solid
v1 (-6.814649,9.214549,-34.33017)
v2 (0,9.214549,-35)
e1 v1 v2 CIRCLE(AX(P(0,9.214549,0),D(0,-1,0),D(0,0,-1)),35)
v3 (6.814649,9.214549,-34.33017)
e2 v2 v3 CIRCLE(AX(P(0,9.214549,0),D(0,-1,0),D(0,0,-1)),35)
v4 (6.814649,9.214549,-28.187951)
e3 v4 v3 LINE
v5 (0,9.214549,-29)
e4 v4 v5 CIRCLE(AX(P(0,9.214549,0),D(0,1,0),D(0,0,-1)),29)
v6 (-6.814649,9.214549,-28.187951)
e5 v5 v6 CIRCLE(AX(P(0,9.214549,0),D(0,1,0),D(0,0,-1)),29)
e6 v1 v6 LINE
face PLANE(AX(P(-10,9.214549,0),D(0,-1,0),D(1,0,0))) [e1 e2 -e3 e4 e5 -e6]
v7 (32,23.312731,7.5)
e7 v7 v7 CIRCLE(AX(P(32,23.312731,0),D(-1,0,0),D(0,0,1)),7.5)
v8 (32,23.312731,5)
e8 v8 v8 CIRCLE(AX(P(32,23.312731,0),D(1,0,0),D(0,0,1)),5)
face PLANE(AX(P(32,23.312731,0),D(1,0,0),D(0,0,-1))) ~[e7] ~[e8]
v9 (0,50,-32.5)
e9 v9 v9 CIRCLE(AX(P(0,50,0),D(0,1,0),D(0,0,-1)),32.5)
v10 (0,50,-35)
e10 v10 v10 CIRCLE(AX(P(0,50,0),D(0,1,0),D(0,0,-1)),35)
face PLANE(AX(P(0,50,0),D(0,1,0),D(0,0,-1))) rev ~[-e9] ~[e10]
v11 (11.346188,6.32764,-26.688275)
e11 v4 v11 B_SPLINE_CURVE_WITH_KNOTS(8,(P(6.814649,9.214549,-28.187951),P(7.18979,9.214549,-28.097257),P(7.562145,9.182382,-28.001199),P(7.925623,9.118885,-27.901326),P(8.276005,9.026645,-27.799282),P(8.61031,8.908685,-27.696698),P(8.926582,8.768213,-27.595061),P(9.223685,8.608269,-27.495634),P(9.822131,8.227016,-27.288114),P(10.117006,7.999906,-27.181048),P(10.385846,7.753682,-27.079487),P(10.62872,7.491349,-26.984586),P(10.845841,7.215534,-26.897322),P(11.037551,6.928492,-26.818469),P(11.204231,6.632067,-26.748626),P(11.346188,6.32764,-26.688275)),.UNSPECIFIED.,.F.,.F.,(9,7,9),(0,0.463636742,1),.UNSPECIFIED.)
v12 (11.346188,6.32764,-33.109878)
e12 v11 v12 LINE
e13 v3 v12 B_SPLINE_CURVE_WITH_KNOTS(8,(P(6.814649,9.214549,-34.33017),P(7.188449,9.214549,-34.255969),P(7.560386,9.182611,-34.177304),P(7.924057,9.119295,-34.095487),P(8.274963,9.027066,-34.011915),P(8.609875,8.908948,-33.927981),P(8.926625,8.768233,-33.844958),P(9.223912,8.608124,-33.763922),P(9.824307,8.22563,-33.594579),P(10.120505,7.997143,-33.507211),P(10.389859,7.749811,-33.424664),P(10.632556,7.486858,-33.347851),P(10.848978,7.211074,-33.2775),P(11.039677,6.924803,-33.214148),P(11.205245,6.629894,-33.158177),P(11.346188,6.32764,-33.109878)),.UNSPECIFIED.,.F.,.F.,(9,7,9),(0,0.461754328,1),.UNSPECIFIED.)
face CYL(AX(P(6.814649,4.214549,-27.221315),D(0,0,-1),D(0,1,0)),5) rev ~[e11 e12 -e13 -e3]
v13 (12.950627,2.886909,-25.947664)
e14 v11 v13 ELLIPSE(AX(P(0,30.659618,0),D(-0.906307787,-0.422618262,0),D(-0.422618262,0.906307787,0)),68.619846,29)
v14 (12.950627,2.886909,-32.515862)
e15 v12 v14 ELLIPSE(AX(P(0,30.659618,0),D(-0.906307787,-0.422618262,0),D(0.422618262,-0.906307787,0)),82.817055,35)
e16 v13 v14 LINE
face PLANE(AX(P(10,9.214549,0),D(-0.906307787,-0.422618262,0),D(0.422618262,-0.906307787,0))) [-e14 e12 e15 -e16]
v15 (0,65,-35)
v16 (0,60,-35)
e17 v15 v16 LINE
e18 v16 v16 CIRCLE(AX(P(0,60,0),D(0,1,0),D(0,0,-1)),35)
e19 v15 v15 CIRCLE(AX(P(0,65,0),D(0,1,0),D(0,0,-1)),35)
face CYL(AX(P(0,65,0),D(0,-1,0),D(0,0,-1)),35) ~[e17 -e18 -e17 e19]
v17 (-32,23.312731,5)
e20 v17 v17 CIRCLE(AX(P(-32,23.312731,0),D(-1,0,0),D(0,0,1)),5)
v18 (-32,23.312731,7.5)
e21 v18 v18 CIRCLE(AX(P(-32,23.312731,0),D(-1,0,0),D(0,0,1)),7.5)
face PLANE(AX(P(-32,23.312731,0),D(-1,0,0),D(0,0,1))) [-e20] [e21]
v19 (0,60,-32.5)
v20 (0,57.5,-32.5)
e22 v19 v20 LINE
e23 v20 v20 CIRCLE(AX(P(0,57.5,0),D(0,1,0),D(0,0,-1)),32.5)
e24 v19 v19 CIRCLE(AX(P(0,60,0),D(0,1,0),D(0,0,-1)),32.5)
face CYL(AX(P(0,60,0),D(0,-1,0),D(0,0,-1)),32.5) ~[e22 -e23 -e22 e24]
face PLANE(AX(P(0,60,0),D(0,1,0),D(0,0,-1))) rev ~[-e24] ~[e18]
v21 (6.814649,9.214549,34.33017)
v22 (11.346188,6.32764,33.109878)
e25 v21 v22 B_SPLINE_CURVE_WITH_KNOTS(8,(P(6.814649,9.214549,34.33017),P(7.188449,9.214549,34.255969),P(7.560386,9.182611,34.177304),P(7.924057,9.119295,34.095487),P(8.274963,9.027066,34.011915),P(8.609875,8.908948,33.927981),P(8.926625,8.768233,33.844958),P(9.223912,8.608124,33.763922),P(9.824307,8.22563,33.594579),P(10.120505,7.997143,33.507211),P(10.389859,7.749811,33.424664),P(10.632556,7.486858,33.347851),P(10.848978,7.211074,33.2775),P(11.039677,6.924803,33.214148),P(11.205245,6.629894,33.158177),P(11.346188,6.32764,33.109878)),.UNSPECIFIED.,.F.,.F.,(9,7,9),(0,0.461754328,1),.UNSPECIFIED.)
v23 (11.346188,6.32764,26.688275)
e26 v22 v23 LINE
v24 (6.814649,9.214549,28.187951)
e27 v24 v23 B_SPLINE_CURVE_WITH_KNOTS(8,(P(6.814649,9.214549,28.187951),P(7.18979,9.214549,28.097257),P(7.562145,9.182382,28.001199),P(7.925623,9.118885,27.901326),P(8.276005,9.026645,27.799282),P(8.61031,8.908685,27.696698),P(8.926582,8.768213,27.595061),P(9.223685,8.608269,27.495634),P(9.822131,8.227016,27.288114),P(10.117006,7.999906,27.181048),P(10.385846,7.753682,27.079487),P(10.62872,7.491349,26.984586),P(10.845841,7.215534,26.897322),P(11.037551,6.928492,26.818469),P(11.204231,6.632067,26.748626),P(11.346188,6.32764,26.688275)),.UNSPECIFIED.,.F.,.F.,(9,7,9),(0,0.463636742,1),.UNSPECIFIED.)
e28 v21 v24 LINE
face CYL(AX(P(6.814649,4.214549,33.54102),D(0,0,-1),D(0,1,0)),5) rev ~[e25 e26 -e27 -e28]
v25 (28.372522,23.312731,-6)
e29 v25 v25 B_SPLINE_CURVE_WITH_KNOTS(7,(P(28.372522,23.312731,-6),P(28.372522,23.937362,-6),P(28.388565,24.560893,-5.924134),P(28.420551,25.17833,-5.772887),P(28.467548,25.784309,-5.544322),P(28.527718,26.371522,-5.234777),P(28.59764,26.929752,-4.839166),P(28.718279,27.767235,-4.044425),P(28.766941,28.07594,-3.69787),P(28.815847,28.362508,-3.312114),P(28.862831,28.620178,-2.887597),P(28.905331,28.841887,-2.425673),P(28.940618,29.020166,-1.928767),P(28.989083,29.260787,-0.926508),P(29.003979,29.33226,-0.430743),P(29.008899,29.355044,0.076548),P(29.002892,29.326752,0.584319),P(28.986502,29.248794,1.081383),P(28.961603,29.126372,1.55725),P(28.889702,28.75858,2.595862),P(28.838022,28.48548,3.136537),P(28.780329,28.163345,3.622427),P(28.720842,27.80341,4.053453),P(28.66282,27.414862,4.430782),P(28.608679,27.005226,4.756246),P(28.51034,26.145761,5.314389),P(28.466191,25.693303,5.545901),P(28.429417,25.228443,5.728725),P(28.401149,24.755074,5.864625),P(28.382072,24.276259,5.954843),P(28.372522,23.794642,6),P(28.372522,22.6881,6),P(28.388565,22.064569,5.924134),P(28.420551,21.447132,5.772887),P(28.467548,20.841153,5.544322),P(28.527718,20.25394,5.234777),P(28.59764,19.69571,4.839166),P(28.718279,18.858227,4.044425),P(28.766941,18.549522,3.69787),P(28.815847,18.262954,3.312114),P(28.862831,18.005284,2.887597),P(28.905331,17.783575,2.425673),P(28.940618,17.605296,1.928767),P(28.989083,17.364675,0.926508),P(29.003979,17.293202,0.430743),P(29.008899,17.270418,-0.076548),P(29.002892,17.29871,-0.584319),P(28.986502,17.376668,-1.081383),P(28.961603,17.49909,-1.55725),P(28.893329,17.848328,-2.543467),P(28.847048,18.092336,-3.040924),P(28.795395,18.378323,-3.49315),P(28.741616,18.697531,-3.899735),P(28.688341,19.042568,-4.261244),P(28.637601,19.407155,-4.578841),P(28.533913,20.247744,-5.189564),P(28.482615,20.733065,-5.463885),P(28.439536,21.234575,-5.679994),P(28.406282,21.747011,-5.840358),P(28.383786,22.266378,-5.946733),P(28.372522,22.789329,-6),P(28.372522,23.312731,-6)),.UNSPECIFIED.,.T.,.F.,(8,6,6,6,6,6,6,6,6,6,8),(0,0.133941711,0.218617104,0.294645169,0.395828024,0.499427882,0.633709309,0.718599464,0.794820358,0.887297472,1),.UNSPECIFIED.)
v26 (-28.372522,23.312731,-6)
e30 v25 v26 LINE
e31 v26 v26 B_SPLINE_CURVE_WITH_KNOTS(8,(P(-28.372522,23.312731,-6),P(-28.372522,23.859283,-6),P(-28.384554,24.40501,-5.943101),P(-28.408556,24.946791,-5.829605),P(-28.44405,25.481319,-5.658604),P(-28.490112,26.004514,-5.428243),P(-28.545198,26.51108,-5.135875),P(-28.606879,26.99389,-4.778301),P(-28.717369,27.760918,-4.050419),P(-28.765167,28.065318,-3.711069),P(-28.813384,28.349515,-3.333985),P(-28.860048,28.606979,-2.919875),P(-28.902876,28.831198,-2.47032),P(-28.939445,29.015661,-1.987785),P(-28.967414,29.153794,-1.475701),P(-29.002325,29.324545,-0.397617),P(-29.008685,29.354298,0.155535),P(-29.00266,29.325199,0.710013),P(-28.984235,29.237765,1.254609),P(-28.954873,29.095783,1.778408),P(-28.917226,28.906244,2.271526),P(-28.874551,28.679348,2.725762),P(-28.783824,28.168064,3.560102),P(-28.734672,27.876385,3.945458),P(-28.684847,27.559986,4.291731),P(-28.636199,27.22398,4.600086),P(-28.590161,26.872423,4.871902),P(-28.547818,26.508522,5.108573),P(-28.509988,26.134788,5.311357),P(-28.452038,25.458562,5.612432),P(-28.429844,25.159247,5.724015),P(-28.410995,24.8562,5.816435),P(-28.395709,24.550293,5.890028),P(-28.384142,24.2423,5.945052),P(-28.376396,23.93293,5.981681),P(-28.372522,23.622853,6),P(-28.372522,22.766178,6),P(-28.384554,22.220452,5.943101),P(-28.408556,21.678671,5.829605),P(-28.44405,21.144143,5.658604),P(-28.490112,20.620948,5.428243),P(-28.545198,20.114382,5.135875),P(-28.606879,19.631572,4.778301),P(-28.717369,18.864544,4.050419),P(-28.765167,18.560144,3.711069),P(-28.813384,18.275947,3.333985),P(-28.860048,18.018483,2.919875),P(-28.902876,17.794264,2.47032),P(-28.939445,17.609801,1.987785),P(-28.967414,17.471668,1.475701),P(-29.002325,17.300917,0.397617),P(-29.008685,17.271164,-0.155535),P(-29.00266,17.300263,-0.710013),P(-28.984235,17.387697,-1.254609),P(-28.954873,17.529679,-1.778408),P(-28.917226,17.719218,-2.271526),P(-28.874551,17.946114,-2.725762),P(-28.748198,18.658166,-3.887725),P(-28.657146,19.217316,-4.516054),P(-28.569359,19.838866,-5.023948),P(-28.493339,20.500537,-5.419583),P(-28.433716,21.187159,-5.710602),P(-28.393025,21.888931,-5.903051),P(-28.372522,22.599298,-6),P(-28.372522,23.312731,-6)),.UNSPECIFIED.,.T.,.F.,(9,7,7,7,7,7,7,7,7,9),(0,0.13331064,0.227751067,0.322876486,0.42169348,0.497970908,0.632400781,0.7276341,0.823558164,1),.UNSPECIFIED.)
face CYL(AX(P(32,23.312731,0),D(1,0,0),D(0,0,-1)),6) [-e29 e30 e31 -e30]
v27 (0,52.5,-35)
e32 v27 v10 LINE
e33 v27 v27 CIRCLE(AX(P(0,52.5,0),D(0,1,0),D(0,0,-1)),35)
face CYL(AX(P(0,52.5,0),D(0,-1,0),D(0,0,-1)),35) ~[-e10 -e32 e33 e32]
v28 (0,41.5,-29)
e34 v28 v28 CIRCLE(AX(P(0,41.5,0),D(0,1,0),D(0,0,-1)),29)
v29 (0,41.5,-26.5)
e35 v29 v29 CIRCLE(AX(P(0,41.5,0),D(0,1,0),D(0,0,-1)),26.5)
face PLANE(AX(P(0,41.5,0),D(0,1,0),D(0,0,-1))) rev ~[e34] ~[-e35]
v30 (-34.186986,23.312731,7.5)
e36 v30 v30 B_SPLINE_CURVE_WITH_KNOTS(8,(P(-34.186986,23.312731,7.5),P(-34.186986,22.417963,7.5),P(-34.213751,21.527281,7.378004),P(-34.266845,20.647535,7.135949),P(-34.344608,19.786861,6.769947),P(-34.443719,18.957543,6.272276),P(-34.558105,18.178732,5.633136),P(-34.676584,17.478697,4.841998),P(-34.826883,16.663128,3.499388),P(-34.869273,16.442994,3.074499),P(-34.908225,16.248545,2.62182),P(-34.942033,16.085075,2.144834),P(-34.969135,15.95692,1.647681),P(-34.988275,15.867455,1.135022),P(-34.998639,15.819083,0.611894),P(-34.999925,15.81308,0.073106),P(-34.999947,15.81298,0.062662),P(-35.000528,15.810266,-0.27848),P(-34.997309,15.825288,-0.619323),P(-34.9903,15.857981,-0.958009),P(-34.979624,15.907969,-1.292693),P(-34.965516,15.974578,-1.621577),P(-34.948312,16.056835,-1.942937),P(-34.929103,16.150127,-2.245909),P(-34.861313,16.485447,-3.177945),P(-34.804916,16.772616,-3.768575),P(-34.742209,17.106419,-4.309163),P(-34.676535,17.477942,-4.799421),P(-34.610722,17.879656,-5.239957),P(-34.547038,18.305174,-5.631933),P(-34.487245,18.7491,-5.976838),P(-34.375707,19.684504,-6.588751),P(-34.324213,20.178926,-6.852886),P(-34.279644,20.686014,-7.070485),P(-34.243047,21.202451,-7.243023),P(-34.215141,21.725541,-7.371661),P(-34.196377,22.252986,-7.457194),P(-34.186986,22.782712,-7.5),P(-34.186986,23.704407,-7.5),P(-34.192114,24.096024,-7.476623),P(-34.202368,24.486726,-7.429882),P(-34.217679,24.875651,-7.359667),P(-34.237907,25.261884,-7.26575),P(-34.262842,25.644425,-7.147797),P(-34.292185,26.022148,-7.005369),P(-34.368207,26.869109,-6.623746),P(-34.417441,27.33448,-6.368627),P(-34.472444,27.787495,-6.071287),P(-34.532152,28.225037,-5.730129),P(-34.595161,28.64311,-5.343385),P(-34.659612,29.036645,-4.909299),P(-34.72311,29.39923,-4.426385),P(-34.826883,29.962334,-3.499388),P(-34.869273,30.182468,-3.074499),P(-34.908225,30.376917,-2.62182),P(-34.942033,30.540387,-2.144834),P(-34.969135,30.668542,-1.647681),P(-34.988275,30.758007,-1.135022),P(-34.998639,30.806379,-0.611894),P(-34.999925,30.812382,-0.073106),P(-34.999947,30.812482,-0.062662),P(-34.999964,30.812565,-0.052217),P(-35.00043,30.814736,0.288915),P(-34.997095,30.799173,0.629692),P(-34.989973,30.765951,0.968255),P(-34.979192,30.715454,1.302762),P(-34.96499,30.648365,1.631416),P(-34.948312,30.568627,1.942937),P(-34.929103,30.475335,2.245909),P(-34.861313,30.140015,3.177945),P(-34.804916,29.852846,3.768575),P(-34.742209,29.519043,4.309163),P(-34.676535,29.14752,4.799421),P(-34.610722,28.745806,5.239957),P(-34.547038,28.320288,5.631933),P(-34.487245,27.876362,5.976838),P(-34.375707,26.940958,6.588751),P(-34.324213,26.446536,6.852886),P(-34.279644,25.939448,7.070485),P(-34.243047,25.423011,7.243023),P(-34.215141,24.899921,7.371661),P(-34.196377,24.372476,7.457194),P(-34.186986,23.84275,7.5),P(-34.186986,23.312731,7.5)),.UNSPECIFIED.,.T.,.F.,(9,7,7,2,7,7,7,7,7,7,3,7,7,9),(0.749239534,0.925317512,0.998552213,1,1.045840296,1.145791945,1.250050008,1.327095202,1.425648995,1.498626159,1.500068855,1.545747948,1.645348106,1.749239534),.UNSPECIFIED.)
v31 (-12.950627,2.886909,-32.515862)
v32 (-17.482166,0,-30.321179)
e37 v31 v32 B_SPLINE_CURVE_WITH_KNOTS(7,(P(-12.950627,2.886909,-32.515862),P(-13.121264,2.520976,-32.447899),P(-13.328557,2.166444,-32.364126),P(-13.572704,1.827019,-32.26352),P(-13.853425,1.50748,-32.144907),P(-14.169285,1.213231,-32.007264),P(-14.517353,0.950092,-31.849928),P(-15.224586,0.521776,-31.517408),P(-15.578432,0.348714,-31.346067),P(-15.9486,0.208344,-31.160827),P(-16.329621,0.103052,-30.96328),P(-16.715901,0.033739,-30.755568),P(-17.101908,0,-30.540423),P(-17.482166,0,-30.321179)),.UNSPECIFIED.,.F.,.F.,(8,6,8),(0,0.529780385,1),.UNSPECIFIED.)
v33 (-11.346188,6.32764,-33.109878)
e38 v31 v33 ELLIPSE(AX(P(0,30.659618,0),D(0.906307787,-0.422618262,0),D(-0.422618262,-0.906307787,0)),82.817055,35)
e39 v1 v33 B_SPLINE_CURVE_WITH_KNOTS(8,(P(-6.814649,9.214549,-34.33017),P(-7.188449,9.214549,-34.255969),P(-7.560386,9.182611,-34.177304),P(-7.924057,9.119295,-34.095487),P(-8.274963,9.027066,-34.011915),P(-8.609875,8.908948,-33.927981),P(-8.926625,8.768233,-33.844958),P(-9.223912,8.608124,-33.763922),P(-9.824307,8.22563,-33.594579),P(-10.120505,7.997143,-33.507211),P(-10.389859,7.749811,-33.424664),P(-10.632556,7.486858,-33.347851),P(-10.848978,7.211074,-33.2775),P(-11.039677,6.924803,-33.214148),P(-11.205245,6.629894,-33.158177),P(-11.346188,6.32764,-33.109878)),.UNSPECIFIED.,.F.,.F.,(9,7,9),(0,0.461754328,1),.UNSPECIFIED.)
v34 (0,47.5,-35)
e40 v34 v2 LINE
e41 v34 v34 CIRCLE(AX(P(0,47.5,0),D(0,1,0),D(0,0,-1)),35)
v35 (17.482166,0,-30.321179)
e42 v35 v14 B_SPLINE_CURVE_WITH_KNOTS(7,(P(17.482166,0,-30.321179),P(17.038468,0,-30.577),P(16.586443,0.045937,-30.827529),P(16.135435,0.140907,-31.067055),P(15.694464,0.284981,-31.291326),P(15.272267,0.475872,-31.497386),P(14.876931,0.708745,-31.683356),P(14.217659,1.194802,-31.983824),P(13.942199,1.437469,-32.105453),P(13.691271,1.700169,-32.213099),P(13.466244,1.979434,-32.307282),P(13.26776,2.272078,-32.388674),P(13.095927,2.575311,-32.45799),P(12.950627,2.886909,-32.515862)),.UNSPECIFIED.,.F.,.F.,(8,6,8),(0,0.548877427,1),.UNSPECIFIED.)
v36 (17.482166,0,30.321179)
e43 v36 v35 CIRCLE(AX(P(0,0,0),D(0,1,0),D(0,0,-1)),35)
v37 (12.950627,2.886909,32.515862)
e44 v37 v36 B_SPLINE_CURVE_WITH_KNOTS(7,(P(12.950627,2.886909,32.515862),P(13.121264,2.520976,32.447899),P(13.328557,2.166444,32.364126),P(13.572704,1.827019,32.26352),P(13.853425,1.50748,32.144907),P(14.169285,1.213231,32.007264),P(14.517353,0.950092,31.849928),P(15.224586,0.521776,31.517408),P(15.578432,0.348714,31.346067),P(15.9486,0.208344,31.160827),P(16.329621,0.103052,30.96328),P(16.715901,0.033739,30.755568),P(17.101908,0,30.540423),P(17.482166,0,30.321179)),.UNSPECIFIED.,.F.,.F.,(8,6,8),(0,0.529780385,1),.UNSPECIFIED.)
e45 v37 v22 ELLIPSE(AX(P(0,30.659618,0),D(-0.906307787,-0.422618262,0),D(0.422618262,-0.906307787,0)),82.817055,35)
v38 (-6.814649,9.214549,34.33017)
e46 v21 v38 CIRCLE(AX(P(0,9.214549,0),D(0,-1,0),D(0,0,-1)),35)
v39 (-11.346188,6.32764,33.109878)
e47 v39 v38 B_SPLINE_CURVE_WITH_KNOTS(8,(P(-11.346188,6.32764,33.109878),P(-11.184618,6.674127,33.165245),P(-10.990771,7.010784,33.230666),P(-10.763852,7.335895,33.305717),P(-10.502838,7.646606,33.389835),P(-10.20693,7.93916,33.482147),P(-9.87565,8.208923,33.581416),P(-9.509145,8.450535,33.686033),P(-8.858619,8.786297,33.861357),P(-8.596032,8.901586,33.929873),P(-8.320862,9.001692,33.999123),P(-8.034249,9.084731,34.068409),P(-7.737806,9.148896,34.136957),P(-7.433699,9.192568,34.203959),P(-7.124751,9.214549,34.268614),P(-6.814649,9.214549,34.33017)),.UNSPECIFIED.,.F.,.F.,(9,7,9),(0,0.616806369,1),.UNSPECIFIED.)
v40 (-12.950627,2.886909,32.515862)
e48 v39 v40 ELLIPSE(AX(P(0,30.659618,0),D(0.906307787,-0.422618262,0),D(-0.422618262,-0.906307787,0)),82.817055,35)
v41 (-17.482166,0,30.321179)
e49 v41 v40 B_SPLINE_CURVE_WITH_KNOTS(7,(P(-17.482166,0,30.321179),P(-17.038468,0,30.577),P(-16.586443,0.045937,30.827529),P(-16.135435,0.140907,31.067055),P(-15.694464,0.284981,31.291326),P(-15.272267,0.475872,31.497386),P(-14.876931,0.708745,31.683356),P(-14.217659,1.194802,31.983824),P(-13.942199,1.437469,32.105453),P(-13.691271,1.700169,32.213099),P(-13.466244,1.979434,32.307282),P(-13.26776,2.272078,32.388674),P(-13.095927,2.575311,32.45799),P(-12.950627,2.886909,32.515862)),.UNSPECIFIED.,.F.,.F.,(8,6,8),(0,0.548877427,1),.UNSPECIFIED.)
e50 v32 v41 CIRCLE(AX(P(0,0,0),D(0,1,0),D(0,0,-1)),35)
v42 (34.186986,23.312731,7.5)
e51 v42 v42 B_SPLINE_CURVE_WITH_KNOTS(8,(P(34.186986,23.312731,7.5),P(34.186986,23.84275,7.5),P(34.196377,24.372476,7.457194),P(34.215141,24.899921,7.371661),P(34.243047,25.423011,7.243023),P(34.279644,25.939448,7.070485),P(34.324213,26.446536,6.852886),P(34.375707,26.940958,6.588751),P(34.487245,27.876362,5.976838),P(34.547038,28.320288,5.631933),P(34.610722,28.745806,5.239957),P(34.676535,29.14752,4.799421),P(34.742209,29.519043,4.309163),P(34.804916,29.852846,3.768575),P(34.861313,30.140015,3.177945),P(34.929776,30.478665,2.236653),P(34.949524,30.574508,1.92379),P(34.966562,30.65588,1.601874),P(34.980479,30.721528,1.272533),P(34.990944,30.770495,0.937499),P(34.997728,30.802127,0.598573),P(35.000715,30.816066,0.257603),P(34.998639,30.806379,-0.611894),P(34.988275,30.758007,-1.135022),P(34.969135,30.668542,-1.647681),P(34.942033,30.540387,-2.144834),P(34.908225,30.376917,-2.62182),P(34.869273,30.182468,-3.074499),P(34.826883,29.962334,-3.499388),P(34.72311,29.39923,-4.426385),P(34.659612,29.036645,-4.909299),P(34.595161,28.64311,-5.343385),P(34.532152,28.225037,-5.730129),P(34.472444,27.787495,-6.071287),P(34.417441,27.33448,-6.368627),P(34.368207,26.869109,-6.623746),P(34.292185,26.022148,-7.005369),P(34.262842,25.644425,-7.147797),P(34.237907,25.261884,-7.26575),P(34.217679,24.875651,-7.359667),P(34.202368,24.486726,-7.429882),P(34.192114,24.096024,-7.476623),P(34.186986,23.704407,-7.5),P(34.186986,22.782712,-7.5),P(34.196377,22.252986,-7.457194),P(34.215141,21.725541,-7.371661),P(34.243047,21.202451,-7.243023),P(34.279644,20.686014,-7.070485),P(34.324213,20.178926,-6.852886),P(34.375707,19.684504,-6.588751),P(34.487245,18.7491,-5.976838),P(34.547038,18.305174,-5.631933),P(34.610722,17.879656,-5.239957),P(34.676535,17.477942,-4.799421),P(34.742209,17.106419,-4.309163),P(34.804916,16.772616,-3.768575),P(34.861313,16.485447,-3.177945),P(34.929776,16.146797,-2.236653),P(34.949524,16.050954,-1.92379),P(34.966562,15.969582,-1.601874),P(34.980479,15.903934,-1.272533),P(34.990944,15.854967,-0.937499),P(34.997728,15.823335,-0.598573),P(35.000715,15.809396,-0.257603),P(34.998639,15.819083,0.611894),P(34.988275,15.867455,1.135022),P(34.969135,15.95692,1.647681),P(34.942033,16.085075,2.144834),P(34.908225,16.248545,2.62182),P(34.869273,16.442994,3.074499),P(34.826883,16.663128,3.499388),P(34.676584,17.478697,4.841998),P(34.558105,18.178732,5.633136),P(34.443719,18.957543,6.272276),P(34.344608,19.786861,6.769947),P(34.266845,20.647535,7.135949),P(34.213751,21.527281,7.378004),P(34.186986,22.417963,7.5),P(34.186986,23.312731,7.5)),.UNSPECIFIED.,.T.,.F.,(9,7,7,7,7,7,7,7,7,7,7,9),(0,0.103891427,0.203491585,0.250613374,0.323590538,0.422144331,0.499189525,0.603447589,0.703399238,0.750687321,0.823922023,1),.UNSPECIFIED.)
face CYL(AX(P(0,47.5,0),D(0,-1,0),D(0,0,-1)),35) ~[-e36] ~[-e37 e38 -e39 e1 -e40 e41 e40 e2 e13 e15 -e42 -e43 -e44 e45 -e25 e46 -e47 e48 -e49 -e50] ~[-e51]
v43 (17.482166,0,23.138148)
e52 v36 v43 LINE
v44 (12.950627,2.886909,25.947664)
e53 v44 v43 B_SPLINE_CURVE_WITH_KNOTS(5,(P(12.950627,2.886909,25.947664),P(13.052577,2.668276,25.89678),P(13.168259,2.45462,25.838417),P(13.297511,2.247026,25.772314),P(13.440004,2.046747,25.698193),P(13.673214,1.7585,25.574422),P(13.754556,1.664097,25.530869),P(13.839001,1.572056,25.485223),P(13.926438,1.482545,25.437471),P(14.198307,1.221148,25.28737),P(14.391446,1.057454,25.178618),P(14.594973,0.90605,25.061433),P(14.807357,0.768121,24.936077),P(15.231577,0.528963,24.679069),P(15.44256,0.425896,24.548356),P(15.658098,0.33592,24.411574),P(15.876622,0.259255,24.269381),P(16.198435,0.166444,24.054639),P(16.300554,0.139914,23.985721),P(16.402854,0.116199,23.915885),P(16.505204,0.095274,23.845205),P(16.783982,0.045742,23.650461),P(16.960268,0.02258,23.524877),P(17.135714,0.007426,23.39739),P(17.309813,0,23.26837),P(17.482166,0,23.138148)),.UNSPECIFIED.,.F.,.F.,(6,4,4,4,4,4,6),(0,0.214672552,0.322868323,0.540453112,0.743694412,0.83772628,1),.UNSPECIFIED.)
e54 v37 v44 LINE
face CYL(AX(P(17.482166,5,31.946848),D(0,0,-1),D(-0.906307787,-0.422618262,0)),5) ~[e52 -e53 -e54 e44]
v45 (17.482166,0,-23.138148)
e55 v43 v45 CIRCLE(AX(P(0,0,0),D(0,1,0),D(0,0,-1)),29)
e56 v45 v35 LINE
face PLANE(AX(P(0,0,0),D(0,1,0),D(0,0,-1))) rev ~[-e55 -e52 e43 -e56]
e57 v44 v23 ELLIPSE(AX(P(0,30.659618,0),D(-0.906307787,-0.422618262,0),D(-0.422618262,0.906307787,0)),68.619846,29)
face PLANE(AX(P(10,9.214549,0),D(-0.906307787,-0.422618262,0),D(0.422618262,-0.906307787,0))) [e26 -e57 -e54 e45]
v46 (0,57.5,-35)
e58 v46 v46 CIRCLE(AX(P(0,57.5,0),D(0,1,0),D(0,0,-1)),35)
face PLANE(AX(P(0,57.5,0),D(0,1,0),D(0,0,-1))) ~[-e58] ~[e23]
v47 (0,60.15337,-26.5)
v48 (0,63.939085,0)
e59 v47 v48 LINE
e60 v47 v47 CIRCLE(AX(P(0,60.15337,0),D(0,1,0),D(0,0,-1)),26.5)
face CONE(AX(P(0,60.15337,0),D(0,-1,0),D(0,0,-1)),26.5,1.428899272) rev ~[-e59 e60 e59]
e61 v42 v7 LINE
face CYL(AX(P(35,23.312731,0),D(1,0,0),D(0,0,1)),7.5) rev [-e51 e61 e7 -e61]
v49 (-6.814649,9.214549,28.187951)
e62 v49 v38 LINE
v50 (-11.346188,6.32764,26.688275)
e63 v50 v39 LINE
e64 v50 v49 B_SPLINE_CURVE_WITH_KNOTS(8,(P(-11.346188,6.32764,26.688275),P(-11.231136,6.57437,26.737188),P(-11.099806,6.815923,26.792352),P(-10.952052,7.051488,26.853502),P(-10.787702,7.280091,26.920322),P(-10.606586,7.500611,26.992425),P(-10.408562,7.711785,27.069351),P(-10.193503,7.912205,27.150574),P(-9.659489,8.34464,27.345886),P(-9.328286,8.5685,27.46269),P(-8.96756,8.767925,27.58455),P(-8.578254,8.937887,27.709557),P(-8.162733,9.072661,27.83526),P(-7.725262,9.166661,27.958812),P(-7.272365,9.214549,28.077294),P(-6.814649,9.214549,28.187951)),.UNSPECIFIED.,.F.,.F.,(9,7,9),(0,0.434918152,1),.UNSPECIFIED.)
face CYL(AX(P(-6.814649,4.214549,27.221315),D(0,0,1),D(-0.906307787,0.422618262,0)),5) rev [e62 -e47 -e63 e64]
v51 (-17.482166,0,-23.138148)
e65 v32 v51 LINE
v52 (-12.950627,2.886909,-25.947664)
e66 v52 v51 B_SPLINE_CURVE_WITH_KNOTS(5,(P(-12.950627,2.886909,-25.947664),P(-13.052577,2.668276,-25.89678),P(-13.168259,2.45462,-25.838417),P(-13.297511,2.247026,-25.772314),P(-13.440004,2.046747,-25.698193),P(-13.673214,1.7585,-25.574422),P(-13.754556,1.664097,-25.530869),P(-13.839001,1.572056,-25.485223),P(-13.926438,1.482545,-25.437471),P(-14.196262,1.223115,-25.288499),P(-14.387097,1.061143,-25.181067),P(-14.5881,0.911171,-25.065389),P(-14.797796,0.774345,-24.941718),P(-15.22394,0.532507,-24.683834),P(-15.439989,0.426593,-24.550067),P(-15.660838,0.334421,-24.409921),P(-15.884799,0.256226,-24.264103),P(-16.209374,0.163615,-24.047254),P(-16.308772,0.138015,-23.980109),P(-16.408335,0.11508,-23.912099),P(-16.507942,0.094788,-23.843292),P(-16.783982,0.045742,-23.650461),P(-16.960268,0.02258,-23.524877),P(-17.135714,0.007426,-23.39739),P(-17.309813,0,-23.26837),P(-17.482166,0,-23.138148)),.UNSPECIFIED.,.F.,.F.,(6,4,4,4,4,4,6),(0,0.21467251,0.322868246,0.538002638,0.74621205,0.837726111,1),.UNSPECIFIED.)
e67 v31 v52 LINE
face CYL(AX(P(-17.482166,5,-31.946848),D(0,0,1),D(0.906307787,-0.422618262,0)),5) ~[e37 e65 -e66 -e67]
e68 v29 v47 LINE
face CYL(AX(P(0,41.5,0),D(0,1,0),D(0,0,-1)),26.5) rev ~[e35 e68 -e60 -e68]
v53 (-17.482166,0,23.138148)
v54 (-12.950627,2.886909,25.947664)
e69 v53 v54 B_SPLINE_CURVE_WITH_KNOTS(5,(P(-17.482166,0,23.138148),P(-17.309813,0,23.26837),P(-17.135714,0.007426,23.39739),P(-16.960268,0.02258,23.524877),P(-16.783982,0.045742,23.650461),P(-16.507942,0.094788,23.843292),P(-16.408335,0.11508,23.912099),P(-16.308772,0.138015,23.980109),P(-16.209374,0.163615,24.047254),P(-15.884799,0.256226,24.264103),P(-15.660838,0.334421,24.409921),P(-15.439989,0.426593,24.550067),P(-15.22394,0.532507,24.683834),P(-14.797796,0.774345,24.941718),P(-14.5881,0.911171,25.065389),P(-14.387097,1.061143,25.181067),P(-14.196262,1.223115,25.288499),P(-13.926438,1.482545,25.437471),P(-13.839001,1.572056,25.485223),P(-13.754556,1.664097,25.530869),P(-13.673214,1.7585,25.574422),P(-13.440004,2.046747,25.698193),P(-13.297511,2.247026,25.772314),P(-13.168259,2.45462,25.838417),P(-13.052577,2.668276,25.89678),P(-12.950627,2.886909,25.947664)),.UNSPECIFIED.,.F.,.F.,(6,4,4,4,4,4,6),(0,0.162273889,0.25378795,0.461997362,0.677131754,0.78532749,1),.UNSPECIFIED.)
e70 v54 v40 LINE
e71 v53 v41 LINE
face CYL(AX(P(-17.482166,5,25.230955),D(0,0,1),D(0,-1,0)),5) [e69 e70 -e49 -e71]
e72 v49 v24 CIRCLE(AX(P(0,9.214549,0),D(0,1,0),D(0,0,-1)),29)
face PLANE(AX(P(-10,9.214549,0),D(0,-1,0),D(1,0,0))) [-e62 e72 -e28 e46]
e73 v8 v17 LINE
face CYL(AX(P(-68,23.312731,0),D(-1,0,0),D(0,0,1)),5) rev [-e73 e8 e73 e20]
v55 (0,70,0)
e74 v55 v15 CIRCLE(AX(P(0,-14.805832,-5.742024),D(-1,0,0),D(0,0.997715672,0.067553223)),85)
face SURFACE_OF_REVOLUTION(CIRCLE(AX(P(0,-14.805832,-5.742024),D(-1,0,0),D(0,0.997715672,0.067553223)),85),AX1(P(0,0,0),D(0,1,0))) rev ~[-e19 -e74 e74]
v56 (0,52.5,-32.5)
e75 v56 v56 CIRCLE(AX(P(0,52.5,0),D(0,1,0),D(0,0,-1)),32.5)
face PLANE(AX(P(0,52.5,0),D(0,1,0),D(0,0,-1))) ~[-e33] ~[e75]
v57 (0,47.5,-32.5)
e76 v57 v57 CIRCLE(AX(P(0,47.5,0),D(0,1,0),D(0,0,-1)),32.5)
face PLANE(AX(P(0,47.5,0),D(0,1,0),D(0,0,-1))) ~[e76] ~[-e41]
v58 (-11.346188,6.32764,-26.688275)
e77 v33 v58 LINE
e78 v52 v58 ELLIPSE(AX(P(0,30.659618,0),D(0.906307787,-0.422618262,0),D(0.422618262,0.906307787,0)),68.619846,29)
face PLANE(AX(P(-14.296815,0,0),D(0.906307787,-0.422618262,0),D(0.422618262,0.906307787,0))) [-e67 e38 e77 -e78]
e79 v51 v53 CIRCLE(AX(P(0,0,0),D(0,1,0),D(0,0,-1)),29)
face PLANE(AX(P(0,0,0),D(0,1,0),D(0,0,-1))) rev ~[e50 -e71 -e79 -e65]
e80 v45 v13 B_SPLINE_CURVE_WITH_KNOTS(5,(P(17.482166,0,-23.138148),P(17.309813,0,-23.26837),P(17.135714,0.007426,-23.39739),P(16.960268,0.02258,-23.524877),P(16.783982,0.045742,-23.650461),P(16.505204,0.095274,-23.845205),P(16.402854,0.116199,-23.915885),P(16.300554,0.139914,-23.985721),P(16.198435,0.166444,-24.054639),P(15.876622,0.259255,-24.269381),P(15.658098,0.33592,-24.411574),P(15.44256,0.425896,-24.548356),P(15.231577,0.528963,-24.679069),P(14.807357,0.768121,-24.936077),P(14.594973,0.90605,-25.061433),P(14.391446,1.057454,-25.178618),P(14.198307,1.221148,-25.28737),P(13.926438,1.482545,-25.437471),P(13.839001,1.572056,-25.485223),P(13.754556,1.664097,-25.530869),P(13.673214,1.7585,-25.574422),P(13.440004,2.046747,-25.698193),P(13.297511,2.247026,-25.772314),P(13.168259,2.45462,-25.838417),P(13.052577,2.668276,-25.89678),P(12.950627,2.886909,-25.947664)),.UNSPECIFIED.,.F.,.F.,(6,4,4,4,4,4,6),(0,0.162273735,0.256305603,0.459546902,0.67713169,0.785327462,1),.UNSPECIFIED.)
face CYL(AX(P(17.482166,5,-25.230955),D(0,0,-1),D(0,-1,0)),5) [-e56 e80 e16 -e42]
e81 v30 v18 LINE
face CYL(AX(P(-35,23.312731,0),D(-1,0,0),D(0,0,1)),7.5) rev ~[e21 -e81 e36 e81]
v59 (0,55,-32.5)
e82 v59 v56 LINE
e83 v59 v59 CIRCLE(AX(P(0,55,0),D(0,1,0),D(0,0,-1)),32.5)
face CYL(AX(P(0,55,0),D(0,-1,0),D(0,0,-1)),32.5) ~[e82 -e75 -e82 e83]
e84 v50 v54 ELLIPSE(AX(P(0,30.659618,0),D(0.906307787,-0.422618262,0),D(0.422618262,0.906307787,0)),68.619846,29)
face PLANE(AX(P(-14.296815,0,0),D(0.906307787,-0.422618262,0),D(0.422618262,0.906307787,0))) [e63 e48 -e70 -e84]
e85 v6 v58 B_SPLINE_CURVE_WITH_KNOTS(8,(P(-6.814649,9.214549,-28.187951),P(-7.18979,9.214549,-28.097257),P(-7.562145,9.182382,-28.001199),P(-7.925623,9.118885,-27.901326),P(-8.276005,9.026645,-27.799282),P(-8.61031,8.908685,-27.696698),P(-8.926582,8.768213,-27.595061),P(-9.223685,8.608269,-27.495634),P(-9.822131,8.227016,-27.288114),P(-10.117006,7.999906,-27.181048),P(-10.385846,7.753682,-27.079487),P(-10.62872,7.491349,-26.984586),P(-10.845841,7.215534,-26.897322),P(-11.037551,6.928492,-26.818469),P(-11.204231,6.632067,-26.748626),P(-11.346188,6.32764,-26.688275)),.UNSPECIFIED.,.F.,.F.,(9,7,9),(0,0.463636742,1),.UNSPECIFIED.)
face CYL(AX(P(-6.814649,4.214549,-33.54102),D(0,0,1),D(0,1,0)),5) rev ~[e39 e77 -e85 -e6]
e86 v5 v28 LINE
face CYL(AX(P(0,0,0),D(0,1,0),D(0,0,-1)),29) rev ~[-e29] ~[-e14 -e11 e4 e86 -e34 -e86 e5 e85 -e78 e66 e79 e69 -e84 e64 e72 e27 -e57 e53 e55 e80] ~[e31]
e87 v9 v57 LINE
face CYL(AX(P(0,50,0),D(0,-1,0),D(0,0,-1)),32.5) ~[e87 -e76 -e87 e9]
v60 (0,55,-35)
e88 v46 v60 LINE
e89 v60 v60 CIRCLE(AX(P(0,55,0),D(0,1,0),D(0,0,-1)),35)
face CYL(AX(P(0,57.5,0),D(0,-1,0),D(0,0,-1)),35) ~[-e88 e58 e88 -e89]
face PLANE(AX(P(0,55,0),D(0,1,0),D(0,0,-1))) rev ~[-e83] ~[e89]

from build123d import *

# Parameters (mm, degrees)
CUT_EXTRUDE1_DEPTH  = 50
FILLET1_R           = 5
SKETCH4_R           = 7.5
CUT_EXTRUDE2_DEPTH  = 3
SKETCH6_R           = 5
CUT_EXTRUDE3_DEPTH  = 21
SKETCH7_R           = 6
BOSS_EXTRUDE1_DEPTH = 62
CUT_EXTRUDE4_START  = -100
SKETCH8_R           = 5
CUT_EXTRUDE4_DEPTH  = 100


with BuildPart() as part:
    # Sketch1 → Revolve1 (revolve)
    with BuildSketch(Plane.XY, mode=Mode.PRIVATE) as revolve1_sk:
        with BuildLine():
            Line((35, 65), (35, 60))
            Line((35, 60), (32.5, 60))
            Line((32.5, 60), (32.5, 57.5))
            Line((32.5, 57.5), (35, 57.5))
            Line((35, 57.5), (35, 55))
            Line((35, 55), (32.5, 55))
            Line((32.5, 55), (32.5, 52.5))
            Line((32.5, 52.5), (35, 52.5))
            Line((35, 52.5), (35, 50))
            Line((35, 50), (32.5, 50))
            Line((32.5, 50), (32.5, 47.5))
            Line((32.5, 47.5), (35, 47.5))
            Line((35, 47.5), (35, 0))
            Line((35, 0), (29, 0))
            Line((29, 0), (29, 41.5))
            Line((29, 41.5), (26.5, 41.5))
            Line((26.5, 41.5), (26.5, 51.25))
            Line((26.5, 51.25), (26.5, 56.25))
            Line((26.5, 56.25), (26.5, 60.153370447))
            Line((26.5, 60.153370447), (0, 63.939084733))
            Line((0, 63.939084733), (0, 70))
            ThreePointArc((0, 70), (17.762839264, 69.339874847), (35, 65))
        make_face()
    revolve(revolve1_sk.sketch.rotate(Axis((0, 0, 0), (0, 1, 0)), 90), axis=Axis((0, 0, 0), (0, 1, 0)))

    # Sketch2 → Cut-Extrude1 (cut, symmetric)
    with BuildSketch(Plane.XY):
        Polygon((-10, 9.214548861), (10, 9.214548861), (14.296814701, 0), (14.296814701, -4.920765988), (0.577416947, -4.920765988), (-8.331342859, -4.920765988), (-14.2968147, 0), align=None)
    extrude(amount=CUT_EXTRUDE1_DEPTH, both=True, mode=Mode.SUBTRACT)

    # Fillet1
    fillet1_edges = [part.edges().sort_by_distance(p)[0] for p in [
        (14.296814701, 0, -28.588901432),
        (14.296814701, 0, 28.588901432),
        (10, 9.214548861, 30.38116742),
        (10, 9.214548861, -30.38116742),
        (-14.2968147, 0, 28.588901432),
        (-14.2968147, 0, -28.588901432),
        (-10, 9.214548861, 30.38116742),
        (-10, 9.214548861, -30.38116742),
    ]]
    fillet(fillet1_edges, radius=FILLET1_R)

    # Sketch4 → Cut-Extrude2 (cut)
    with BuildSketch(Plane.ZY.offset(35)):
        with Locations((0, 23.312730986)):
            Circle(SKETCH4_R)
    cut_extrude2 = extrude(amount=-CUT_EXTRUDE2_DEPTH, mode=Mode.SUBTRACT)

    # Sketch6 → Cut-Extrude3 (cut)
    with BuildSketch(Plane.ZY.offset(32)):
        with Locations((0, 23.312730986)):
            Circle(SKETCH6_R)
    cut_extrude3 = extrude(amount=-CUT_EXTRUDE3_DEPTH, mode=Mode.SUBTRACT)

    # Mirror1: Cut-Extrude2, Cut-Extrude3 across plane
    add(cut_extrude2.mirror(Plane(origin=(0, 0, 0), x_dir=(0, 0, 1), z_dir=(1, 0, 0))), mode=Mode.SUBTRACT)
    add(cut_extrude3.mirror(Plane(origin=(0, 0, 0), x_dir=(0, 0, 1), z_dir=(1, 0, 0))), mode=Mode.SUBTRACT)

    # Sketch7 → Boss-Extrude1 (add)
    with BuildSketch(Plane(origin=(32, 0, 0), x_dir=(0, 0, -1), z_dir=(1, 0, 0))):
        with Locations((0, 23.312730986)):
            Circle(SKETCH7_R)
    extrude(amount=-BOSS_EXTRUDE1_DEPTH)

    # Sketch8 → Cut-Extrude4 (cut)
    with BuildSketch(Plane(origin=(32, 0, 0), x_dir=(0, 0, -1), z_dir=(1, 0, 0)).offset(CUT_EXTRUDE4_START)):
        with Locations(Location((0, 23.312730986, 0), (0, 0, 180))):
            Circle(SKETCH8_R)
    extrude(amount=CUT_EXTRUDE4_DEPTH, mode=Mode.SUBTRACT)


solid = part.part
